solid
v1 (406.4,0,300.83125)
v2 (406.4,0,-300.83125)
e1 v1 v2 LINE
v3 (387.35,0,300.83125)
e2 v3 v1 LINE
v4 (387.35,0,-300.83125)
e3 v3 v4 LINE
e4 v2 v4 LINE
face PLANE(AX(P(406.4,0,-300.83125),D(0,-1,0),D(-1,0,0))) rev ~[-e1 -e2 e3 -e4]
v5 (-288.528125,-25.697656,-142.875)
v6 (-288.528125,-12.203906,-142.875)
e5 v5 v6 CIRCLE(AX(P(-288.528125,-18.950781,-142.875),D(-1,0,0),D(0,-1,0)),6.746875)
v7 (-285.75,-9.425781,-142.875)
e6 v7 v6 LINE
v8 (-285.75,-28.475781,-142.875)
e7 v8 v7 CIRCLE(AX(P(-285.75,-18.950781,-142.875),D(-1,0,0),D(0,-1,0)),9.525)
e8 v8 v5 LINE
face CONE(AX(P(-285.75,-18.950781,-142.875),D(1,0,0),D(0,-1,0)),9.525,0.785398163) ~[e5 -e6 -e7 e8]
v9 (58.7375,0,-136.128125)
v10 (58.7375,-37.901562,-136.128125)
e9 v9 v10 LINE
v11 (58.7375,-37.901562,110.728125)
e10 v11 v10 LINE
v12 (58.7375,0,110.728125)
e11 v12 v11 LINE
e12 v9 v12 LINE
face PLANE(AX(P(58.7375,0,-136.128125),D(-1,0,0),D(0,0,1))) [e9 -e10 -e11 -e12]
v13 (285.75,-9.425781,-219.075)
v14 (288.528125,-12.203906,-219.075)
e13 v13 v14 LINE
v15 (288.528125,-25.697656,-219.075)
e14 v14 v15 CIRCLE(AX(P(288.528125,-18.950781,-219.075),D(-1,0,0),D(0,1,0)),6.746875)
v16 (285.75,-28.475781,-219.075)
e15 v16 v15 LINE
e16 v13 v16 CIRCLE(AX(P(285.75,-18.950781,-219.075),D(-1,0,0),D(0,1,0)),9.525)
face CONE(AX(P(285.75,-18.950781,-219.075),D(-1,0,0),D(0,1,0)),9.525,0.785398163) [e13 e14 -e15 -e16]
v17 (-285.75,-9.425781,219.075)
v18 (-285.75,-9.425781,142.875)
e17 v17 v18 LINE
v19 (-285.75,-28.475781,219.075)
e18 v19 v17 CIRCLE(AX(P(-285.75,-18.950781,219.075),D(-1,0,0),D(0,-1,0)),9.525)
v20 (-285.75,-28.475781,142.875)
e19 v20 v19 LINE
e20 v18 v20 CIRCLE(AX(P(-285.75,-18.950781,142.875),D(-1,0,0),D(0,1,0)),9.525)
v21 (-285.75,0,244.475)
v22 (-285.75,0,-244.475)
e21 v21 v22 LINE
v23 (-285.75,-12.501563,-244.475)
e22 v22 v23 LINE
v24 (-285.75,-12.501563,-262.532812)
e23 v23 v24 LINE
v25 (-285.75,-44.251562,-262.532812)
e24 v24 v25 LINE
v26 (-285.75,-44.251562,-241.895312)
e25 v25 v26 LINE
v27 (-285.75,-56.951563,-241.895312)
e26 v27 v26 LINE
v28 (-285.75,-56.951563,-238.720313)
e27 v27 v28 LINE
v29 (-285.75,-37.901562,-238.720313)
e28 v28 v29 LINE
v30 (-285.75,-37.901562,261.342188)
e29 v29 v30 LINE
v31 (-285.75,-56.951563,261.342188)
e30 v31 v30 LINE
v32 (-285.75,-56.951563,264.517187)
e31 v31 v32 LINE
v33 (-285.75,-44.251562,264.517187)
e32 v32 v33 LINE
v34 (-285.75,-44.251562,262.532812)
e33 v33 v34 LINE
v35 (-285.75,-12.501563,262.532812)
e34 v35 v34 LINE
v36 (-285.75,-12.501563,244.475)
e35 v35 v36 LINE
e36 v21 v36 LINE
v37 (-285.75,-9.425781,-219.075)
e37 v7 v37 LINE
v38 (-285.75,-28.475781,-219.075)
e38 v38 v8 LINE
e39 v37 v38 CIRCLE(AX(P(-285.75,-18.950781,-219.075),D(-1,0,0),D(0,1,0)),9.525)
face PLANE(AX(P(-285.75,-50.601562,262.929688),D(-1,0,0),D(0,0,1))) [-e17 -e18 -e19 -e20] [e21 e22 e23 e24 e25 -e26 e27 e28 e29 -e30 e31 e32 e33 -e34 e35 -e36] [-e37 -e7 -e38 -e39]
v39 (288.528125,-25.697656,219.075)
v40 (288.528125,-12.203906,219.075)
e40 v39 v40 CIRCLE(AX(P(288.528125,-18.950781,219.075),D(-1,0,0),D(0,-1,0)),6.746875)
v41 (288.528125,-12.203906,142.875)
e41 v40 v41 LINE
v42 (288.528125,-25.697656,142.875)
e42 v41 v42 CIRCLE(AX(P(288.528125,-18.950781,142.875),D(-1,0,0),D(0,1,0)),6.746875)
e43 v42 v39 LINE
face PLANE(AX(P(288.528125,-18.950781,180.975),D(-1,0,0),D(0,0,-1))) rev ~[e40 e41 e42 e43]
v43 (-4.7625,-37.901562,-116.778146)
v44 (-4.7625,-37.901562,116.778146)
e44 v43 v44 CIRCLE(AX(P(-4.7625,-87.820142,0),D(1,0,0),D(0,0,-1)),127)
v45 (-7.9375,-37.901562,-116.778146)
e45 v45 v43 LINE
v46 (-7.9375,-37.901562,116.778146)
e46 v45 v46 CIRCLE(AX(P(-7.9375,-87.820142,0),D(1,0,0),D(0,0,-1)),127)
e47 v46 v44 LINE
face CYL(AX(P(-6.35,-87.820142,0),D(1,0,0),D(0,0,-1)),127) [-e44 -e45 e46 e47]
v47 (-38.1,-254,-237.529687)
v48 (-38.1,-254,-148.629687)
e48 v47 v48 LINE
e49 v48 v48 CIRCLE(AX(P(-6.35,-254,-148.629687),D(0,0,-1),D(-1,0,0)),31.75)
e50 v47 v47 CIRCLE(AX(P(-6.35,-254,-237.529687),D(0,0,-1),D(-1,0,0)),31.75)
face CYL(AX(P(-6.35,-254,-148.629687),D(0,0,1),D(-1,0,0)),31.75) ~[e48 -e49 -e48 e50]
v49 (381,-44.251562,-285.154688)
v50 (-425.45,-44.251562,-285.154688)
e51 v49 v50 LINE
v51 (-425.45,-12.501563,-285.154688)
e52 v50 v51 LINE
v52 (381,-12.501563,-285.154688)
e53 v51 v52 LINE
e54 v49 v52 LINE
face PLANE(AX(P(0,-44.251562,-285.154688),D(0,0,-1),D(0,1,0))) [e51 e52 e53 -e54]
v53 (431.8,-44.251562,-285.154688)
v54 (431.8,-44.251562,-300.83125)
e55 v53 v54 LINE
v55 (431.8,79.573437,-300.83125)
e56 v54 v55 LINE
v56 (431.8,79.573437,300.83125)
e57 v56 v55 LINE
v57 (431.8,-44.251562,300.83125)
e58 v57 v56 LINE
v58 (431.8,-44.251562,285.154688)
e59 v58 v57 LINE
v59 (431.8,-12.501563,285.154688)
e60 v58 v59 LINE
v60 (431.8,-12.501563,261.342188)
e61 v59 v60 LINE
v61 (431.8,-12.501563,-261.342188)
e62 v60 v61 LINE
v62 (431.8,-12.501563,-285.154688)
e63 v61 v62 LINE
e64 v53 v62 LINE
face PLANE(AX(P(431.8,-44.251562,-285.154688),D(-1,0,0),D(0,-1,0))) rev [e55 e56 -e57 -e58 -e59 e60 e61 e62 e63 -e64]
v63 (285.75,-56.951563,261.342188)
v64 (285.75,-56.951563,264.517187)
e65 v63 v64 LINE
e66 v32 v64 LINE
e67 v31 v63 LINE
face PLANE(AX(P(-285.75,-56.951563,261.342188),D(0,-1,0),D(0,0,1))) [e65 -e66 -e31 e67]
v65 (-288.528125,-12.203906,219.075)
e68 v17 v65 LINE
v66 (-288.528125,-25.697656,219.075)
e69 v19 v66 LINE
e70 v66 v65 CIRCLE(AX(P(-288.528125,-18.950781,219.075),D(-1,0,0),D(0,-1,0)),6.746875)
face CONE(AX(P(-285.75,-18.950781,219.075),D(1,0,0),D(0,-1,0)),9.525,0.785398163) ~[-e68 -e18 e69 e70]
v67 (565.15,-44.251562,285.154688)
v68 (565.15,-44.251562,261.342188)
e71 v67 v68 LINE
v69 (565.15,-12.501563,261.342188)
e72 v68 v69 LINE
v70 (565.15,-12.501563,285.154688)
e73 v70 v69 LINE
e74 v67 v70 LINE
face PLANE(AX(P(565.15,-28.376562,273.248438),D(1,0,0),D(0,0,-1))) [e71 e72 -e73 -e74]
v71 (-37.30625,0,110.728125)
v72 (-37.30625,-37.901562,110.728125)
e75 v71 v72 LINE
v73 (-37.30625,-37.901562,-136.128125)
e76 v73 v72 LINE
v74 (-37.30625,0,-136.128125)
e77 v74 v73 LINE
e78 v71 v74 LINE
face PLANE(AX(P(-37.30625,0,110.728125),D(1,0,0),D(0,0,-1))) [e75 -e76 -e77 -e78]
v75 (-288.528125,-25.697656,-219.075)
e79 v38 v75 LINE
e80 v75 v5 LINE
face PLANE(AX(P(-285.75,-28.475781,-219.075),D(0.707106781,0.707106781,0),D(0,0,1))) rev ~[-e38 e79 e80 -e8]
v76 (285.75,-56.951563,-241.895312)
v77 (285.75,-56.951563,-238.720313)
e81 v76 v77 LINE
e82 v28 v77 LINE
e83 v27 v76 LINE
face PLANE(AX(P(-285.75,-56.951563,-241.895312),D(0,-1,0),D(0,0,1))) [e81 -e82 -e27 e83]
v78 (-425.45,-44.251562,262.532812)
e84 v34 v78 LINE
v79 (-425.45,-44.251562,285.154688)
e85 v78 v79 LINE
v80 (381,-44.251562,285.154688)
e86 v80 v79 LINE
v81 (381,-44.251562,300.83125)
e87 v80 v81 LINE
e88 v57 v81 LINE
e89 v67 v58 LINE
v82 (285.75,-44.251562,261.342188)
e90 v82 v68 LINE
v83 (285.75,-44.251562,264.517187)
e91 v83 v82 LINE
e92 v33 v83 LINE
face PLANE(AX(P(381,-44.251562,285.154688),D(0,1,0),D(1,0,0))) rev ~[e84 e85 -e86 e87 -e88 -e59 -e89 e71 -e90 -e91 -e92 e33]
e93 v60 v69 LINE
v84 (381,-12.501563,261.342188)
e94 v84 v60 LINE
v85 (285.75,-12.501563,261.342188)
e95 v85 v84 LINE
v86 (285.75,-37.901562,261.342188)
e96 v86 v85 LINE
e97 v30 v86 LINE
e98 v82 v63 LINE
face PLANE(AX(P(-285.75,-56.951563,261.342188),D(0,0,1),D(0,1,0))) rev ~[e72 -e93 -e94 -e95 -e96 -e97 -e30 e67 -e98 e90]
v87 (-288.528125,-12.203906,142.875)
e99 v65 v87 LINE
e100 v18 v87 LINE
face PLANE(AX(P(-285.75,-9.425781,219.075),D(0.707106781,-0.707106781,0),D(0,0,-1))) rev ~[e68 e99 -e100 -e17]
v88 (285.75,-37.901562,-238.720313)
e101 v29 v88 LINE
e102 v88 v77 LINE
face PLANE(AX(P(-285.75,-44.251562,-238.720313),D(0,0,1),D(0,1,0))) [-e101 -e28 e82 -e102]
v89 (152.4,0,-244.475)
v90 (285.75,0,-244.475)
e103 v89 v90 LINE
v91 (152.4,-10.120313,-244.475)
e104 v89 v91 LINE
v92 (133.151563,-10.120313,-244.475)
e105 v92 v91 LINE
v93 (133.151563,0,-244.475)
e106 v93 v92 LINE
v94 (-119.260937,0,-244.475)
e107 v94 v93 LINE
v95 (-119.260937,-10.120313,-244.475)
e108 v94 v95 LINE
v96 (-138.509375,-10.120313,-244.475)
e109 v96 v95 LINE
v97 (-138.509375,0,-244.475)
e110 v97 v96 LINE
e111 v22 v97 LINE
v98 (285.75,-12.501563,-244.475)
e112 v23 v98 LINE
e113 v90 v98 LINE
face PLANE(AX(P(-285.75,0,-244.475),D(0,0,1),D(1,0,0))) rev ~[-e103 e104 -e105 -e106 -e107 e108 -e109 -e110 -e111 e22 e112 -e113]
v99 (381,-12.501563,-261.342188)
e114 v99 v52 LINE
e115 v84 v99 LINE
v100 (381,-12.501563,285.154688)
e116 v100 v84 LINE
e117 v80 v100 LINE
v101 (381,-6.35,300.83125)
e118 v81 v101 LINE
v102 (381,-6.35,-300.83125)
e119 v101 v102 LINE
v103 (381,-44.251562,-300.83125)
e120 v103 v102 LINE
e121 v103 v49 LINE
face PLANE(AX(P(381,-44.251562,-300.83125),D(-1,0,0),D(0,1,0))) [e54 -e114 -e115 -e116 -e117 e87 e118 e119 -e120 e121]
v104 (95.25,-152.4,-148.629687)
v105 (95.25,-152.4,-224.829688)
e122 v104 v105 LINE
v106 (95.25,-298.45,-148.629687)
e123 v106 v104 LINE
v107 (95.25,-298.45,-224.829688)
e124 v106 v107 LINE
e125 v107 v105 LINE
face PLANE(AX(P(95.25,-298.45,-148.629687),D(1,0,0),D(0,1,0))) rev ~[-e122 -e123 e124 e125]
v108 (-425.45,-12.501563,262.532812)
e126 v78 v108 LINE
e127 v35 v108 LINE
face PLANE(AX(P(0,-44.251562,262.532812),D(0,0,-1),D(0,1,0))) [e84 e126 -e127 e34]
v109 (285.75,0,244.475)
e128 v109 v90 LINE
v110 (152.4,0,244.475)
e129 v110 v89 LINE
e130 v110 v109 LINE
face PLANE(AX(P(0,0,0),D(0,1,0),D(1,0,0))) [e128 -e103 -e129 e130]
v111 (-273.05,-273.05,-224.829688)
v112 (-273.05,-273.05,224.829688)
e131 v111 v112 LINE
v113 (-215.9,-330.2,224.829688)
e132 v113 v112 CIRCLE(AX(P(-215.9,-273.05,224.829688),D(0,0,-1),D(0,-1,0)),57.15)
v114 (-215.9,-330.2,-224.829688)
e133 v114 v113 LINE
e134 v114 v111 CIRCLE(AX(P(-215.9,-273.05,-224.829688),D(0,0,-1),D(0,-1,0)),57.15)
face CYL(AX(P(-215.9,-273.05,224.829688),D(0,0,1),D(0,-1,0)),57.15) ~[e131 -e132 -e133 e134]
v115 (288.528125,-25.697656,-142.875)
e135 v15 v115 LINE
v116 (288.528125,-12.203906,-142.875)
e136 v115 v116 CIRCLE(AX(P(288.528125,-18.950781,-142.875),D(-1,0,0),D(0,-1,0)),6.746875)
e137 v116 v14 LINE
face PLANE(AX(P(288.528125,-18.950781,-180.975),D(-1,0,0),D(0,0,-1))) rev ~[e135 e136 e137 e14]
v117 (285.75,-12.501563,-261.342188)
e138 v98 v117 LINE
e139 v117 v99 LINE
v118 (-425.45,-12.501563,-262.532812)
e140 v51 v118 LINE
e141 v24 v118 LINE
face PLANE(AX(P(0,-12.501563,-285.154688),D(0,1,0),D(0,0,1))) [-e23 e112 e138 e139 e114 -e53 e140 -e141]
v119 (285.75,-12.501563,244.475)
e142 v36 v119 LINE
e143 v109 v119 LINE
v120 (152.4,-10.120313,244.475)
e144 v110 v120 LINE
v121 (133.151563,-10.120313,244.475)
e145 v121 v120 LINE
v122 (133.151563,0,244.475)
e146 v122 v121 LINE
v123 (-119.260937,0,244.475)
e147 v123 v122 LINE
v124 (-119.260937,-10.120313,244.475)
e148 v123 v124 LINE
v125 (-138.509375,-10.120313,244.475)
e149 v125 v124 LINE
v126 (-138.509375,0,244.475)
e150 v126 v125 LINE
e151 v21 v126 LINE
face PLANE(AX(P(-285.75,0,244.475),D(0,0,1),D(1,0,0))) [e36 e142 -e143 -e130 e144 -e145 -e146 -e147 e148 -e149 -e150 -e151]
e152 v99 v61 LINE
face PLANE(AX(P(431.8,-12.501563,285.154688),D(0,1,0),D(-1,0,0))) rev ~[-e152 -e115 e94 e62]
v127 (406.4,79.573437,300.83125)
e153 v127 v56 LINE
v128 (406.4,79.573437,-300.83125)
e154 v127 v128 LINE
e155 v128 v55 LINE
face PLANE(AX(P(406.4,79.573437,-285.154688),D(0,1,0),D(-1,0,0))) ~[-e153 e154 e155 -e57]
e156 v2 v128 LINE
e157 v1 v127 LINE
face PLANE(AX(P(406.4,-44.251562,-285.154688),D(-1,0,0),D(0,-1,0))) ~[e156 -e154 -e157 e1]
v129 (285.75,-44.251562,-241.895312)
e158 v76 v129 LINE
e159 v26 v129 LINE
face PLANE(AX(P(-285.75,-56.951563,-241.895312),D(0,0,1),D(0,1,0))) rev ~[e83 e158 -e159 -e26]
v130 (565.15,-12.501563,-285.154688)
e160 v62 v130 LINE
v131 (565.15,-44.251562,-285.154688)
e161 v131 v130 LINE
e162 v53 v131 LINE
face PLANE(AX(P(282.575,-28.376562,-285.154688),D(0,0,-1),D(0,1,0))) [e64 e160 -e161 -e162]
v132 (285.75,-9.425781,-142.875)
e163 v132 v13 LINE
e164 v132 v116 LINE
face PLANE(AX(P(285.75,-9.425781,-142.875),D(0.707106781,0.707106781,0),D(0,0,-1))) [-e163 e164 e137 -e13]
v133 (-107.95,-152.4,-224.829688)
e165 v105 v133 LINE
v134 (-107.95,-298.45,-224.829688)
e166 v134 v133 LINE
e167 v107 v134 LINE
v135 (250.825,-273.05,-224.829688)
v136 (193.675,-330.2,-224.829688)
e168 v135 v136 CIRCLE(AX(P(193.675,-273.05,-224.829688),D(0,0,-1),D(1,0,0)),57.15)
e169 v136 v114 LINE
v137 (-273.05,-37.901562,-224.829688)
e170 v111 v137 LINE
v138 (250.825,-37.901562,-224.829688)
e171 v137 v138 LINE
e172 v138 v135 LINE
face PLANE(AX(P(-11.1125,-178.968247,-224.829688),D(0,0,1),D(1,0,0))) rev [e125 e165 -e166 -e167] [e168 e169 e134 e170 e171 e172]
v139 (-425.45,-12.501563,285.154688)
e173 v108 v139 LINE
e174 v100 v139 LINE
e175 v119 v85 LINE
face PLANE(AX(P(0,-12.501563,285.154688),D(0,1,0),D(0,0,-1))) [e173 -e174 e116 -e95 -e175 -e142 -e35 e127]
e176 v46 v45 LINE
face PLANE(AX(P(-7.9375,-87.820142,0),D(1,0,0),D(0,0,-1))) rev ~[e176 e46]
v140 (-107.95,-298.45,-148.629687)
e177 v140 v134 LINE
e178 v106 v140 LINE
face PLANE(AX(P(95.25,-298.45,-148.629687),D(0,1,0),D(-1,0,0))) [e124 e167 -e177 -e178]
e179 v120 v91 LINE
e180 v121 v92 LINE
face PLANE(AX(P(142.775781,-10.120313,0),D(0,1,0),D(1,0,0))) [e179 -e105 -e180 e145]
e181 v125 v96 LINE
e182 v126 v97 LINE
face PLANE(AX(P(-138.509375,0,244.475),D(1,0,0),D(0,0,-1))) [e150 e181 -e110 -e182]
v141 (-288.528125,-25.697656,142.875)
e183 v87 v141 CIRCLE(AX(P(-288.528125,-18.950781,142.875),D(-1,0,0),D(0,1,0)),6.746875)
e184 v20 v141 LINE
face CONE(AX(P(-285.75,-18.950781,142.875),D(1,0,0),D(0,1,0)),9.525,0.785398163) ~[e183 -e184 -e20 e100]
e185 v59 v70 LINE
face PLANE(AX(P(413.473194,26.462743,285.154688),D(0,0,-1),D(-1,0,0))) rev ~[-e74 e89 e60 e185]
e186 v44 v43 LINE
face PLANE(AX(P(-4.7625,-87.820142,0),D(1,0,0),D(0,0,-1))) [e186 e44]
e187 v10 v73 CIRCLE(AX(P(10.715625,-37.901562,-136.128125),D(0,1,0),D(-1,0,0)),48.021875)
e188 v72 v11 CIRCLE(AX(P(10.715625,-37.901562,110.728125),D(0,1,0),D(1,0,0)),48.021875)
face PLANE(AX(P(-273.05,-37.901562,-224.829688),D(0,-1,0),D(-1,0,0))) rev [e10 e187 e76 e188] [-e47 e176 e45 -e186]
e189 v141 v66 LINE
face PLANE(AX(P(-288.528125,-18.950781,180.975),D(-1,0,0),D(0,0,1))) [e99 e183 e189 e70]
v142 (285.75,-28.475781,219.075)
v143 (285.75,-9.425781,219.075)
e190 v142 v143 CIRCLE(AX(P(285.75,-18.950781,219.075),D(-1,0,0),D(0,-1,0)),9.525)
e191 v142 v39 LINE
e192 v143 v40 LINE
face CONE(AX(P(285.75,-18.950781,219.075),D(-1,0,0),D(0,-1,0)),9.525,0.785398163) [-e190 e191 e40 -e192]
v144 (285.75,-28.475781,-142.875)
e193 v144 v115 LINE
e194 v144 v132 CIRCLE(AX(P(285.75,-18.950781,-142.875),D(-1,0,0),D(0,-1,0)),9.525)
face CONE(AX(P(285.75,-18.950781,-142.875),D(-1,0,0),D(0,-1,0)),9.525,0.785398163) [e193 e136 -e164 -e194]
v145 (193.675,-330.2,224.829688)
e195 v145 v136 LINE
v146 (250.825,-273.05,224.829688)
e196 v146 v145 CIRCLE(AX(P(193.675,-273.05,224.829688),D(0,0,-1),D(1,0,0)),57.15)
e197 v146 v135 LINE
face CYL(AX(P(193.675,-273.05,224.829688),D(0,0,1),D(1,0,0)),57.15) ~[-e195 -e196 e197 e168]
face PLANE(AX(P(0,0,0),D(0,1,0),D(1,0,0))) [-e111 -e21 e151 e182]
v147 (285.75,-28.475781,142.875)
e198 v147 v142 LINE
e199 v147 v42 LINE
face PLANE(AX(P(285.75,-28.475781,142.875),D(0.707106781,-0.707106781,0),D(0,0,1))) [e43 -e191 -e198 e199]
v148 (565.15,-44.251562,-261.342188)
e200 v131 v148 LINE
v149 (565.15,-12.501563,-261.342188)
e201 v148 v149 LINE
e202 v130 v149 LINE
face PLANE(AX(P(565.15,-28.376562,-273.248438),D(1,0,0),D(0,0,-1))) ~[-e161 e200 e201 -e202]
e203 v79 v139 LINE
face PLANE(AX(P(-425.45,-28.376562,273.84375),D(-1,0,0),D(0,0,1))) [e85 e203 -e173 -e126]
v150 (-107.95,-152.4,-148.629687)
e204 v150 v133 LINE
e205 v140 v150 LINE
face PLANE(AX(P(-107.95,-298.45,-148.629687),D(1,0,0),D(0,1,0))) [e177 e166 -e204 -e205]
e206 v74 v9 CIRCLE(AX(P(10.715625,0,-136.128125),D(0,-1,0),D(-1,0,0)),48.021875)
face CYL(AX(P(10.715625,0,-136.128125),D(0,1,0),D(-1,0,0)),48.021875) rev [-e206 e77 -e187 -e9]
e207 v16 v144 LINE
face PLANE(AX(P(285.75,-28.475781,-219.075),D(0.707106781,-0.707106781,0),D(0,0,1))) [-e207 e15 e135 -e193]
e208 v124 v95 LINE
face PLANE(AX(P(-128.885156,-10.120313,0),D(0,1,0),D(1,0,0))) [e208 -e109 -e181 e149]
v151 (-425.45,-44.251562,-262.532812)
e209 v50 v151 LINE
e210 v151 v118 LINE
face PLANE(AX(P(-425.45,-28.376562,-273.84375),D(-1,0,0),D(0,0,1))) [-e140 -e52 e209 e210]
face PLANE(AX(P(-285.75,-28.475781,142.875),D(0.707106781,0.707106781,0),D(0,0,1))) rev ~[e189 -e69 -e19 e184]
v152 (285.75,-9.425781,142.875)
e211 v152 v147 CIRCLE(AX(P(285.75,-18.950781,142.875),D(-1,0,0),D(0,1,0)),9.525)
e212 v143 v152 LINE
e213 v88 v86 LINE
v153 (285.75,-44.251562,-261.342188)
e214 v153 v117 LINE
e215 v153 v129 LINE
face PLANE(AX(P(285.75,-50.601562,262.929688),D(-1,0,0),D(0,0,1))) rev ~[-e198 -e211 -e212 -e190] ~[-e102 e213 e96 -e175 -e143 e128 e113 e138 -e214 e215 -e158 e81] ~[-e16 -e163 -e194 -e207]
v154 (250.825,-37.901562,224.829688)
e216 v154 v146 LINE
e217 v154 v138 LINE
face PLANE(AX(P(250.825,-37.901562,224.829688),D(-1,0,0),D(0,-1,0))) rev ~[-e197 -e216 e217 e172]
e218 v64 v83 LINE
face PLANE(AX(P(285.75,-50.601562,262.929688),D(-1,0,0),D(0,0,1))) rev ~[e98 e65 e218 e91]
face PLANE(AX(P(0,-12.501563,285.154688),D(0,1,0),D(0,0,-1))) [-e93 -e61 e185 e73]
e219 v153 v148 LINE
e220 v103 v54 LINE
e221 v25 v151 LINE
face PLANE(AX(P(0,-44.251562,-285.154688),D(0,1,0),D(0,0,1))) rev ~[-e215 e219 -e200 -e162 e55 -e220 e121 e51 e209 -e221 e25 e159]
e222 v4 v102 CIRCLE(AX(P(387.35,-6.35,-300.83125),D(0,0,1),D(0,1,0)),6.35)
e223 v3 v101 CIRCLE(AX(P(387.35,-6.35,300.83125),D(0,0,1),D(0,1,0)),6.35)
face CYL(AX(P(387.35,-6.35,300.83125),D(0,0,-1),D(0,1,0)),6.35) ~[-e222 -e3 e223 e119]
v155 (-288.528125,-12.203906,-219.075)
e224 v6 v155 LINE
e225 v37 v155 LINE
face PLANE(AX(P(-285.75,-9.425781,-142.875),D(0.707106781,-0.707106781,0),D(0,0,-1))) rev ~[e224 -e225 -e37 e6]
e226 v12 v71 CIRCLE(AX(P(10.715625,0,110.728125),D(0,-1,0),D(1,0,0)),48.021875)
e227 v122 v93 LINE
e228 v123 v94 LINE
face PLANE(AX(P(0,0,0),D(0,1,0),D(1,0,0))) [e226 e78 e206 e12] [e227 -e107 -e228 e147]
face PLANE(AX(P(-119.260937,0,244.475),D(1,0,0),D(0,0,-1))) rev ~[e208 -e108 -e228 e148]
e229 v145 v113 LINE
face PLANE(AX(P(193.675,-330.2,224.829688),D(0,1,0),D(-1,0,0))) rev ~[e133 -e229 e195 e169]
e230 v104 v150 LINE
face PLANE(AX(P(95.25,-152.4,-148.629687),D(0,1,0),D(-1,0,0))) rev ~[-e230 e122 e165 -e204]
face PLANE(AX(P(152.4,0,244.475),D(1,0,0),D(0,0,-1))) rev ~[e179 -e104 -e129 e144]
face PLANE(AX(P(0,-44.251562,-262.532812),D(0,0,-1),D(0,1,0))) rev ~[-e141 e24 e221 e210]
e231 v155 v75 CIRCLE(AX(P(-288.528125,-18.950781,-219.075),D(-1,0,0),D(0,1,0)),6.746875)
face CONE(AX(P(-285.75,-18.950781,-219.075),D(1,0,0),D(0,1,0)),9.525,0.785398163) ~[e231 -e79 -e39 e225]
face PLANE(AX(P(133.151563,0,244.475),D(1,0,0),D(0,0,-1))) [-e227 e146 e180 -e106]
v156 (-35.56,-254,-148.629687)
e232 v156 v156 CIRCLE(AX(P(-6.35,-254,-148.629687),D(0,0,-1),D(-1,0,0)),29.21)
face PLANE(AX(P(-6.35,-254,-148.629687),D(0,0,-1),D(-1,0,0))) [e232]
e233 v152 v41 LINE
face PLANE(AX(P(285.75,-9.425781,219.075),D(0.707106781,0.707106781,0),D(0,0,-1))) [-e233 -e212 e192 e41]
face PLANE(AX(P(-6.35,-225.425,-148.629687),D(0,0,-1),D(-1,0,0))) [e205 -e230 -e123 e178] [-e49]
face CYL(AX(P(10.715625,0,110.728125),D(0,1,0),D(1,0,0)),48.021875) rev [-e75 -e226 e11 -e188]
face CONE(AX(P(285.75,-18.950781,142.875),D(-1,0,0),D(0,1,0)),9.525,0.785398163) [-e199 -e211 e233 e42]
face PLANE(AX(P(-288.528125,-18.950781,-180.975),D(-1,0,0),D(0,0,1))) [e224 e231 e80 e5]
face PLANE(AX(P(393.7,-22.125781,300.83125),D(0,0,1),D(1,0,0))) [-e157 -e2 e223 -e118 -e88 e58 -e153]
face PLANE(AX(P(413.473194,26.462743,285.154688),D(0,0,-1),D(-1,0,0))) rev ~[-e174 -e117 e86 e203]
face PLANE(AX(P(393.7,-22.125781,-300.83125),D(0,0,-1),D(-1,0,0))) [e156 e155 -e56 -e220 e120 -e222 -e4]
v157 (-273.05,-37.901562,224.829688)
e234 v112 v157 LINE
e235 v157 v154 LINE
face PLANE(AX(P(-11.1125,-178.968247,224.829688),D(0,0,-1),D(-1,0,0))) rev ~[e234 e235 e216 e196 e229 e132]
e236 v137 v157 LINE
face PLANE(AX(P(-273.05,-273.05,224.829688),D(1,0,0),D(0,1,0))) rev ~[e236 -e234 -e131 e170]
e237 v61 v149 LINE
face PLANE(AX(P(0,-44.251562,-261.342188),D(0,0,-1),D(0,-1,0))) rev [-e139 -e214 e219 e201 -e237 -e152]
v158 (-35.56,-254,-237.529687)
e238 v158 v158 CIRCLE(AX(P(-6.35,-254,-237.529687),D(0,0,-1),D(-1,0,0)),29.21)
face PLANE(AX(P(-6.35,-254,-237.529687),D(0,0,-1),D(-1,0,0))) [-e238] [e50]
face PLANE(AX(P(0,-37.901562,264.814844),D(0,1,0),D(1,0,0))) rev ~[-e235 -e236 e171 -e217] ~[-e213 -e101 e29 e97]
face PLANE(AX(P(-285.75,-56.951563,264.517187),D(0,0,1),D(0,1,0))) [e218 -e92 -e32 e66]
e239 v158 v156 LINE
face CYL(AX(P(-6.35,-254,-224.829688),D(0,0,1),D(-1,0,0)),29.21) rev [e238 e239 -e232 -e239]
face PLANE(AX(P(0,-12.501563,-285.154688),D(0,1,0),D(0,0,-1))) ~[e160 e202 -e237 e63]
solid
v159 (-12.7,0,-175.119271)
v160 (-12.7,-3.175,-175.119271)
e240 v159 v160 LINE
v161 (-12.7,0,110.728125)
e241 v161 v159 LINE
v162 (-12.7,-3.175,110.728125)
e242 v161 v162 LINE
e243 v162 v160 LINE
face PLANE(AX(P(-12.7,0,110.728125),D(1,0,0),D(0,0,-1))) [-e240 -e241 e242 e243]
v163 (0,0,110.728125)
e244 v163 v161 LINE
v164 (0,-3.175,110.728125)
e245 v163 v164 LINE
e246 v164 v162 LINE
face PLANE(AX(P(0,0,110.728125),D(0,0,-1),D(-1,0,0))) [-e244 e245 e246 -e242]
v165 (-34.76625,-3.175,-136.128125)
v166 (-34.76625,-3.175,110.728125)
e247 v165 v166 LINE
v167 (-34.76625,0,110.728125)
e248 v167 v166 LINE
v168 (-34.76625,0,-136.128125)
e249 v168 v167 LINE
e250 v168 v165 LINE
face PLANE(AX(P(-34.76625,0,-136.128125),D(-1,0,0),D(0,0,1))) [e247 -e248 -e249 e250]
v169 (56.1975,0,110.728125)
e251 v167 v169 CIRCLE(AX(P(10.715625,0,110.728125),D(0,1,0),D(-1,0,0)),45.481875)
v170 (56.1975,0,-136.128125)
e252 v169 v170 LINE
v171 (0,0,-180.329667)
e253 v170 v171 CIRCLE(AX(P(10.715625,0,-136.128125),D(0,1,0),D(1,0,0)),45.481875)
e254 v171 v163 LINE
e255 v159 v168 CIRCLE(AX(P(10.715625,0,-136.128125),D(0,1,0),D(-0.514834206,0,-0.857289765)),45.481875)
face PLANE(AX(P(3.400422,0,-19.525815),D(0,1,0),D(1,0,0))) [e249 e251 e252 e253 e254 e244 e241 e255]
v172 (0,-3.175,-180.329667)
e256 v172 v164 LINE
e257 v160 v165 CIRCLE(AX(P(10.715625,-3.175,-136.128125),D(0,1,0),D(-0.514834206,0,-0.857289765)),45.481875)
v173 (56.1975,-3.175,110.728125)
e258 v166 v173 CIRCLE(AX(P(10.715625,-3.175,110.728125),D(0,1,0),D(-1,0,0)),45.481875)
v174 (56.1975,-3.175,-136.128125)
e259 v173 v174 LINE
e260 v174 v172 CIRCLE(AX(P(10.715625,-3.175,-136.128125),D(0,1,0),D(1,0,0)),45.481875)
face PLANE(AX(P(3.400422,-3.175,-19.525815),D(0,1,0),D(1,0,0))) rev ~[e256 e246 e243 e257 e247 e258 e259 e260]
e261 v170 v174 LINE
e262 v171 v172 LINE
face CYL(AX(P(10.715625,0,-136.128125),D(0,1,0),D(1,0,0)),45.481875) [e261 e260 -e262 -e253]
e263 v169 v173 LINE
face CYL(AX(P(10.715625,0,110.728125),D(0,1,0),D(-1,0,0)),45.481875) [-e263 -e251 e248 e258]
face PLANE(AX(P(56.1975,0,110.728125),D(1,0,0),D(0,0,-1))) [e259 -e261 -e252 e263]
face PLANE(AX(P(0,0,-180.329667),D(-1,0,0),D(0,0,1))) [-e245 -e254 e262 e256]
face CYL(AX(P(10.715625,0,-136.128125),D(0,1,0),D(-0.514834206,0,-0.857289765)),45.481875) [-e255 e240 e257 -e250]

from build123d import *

# Parameters (mm, degrees)
SKETCH1_W                = 571.5
SKETCH1_H                = 488.95
EXTRUDE1_DEPTH           = 37.9015625
SKETCH2_W                = 571.5
SKETCH2_H                = 40.6796875
SKETCH2_H_2              = 18.0578125
EXTRUDE5_DEPTH           = 25.4
SKETCH6_W                = 23.8125
SKETCH6_H                = 31.75
EXTRUDE6_DEPTH           = 571.5
SKETCH7_W                = 3.175
SKETCH7_H                = 12.7
EXTRUDE7_DEPTH           = 571.5
EXTRUDE8_DEPTH           = 2.778125
EXTRUDE8_DRAFT           = 45
EXTRUDE8_PROFILE_2_DEPTH = 2.778125
EXTRUDE8_PROFILE_2_DRAFT = 45
MIRROR2_COPY_1_DEPTH     = 2.778125
MIRROR2_COPY_1_DRAFT     = 45
MIRROR2_COPY_2_DEPTH     = 2.778125
MIRROR2_COPY_2_DRAFT     = 45
MIRROR2_COPY_3_DEPTH     = 2.778125
MIRROR2_COPY_3_DRAFT     = 45
EXTRUDE9_DEPTH           = 490.247968132
SKETCH10_W               = 19.2484375
SKETCH10_H               = 488.95
EXTRUDE10_DEPTH          = 10.1203125
SKETCH3_W                = 23.8125
SKETCH3_H                = 31.75
EXTRUDE3_DEPTH           = 565.15
EXTRUDE4_REACH           = 806.917
SKETCH11_W               = 25.4
SKETCH11_H               = 123.825
EXTRUDE11_DEPTH          = 15.6765625
SKETCH12_W               = 25.4
SKETCH12_H               = 44.2515625
EXTRUDE12_DEPTH          = 15.6765625
SKETCH13_W               = 25.4
SKETCH13_H               = 44.2515625
EXTRUDE13_DEPTH          = 15.6765625
FILLET1_R                = 6.35
EXTRUDE14_DEPTH          = 224.8296875
SKETCH15_R               = 127
EXTRUDE15_DEPTH          = 1.5875
EXTRUDE16_DEPTH          = 3.175
SKETCH17_R               = 31.75
SKETCH17_R_2             = 29.21
EXTRUDE17_DEPTH          = 12.7
EXTRUDE18_START          = -76.2
SKETCH18_W               = 203.2
SKETCH18_H               = 146.05
SKETCH18_R               = 31.75
SKETCH18_R_2             = 29.21
EXTRUDE18_DEPTH          = 76.2
EXTRUDE20_START          = -285.75
SKETCH20_W               = 22.621875
SKETCH20_H               = 31.75
EXTRUDE20_DEPTH          = 425.45


with BuildPart() as part:
    # Sketch1 → Extrude1 (new body)
    with BuildSketch(Plane(origin=(0, 0, 0), x_dir=(1, 0, 0), z_dir=(0, 1, 0))):
        Rectangle(SKETCH1_W, SKETCH1_H)
    extrude(amount=-EXTRUDE1_DEPTH)

    # Sketch2 → Extrude5 (add)
    with BuildSketch(Plane(origin=(0, -37.9015625, 0), x_dir=(1, 0, 0), z_dir=(0, 1, 0))):
        with Locations((0, -264.81484375)):
            Rectangle(SKETCH2_W, SKETCH2_H)
        with Locations((0, 253.50390625)):
            Rectangle(SKETCH2_W, SKETCH2_H_2)
    extrude(amount=EXTRUDE5_DEPTH)

    # Sketch6 → Extrude6 (add)
    with BuildSketch(Plane.ZY.offset(285.75)):
        with Locations((273.2484375, -28.3765625)):
            Rectangle(SKETCH6_W, SKETCH6_H)
        with Locations((-250.6265625, -28.3765625)):
            Rectangle(SKETCH6_W, SKETCH6_H)
    extrude(amount=-EXTRUDE6_DEPTH)

    # Sketch7 → Extrude7 (add)
    with BuildSketch(Plane.ZY.offset(285.75)):
        with Locations((262.9296875, -50.6015625)):
            Rectangle(SKETCH7_W, SKETCH7_H)
        with Locations((-240.3078125, -50.6015625)):
            Rectangle(SKETCH7_W, SKETCH7_H)
    extrude(amount=-EXTRUDE7_DEPTH)


with BuildPart() as extrude8_tool:
    # Sketch8 → Extrude8 (with draft: the straight prism first)
    with BuildSketch(Plane.ZY.offset(285.75)):
        with BuildLine():
            Line((-219.075, -28.47578125), (-142.875, -28.47578125))
            ThreePointArc((-142.875, -28.47578125), (-133.35, -18.95078125), (-142.875, -9.42578125))
            Line((-142.875, -9.42578125), (-219.075, -9.42578125))
            ThreePointArc((-219.075, -9.42578125), (-228.6, -18.95078125), (-219.075, -28.47578125))
        make_face()
    extrude(amount=EXTRUDE8_DEPTH)
    # Extrude8: the draft: its side faces are tilted about the plane it starts from
    extrude8_sides = [extrude8_tool.faces().sort_by_distance(p)[0] for p in [
        (-287.1390625, -18.95078125, -228.6),
        (-287.1390625, -28.47578125, -180.975),
        (-287.1390625, -18.95078125, -133.35),
        (-287.1390625, -9.42578125, -180.975),
    ]]
    draft(extrude8_sides, Plane.ZY.offset(285.75), EXTRUDE8_DRAFT)


with BuildPart() as part_1:
    add(part.part)

    # Extrude8: add extrude8_tool
    add(extrude8_tool.part)


with BuildPart() as extrude8_profile_2_tool:
    # Sketch8 → Extrude8 profile 2 (with draft: the straight prism first)
    with BuildSketch(Plane.ZY.offset(285.75)):
        with BuildLine():
            Line((142.875, -28.47578125), (219.075, -28.47578125))
            ThreePointArc((219.075, -28.47578125), (228.6, -18.95078125), (219.075, -9.42578125))
            Line((219.075, -9.42578125), (142.875, -9.42578125))
            ThreePointArc((142.875, -9.42578125), (133.35, -18.95078125), (142.875, -28.47578125))
        make_face()
    extrude(amount=EXTRUDE8_PROFILE_2_DEPTH)
    # Extrude8 profile 2: the draft: its side faces are tilted about the plane it starts from
    extrude8_profile_2_sides = [extrude8_profile_2_tool.faces().sort_by_distance(p)[0] for p in [
        (-287.1390625, -18.95078125, 133.35),
        (-287.1390625, -28.47578125, 180.975),
        (-287.1390625, -18.95078125, 228.6),
        (-287.1390625, -9.42578125, 180.975),
    ]]
    draft(extrude8_profile_2_sides, Plane.ZY.offset(285.75), EXTRUDE8_PROFILE_2_DRAFT)


with BuildPart() as part_2:
    add(part_1.part)

    # Extrude8 profile 2: add extrude8_profile_2_tool
    add(extrude8_profile_2_tool.part)


with BuildPart() as mirror2_copy_1_tool:
    # Mirror2 copy 1 sketch → Mirror2 copy 1 (with draft: the straight prism first)
    with BuildSketch(Plane(origin=(285.75, 0, 0), x_dir=(0, 0, 1), z_dir=(1, 0, 0))):
        with BuildLine():
            Line((-219.075, 28.47578125), (-142.875, 28.47578125))
            ThreePointArc((-142.875, 28.47578125), (-133.35, 18.95078125), (-142.875, 9.42578125))
            Line((-142.875, 9.42578125), (-219.075, 9.42578125))
            ThreePointArc((-219.075, 9.42578125), (-228.6, 18.95078125), (-219.075, 28.47578125))
        make_face()
    extrude(amount=MIRROR2_COPY_1_DEPTH)
    # Mirror2 copy 1: the draft: its side faces are tilted about the plane it starts from
    mirror2_copy_1_sides = [mirror2_copy_1_tool.faces().sort_by_distance(p)[0] for p in [
        (287.1390625, -18.95078125, -228.6),
        (287.1390625, -28.47578125, -180.975),
        (287.1390625, -18.95078125, -133.35),
        (287.1390625, -9.42578125, -180.975),
    ]]
    draft(mirror2_copy_1_sides, Plane(origin=(285.75, 0, 0), x_dir=(0, 0, 1), z_dir=(1, 0, 0)), MIRROR2_COPY_1_DRAFT)


with BuildPart() as part_3:
    add(part_2.part)

    # Mirror2 copy 1: add mirror2_copy_1_tool
    add(mirror2_copy_1_tool.part)


with BuildPart() as mirror2_copy_2_tool:
    # Mirror2 copy 2 sketch → Mirror2 copy 2 (with draft: the straight prism first)
    with BuildSketch(Plane(origin=(285.75, 0, 0), x_dir=(0, 0, 1), z_dir=(1, 0, 0))):
        with BuildLine():
            Line((142.875, 28.47578125), (219.075, 28.47578125))
            ThreePointArc((219.075, 28.47578125), (228.6, 18.95078125), (219.075, 9.42578125))
            Line((219.075, 9.42578125), (142.875, 9.42578125))
            ThreePointArc((142.875, 9.42578125), (133.35, 18.95078125), (142.875, 28.47578125))
        make_face()
    extrude(amount=MIRROR2_COPY_2_DEPTH)
    # Mirror2 copy 2: the draft: its side faces are tilted about the plane it starts from
    mirror2_copy_2_sides = [mirror2_copy_2_tool.faces().sort_by_distance(p)[0] for p in [
        (287.1390625, -18.95078125, 133.35),
        (287.1390625, -28.47578125, 180.975),
        (287.1390625, -18.95078125, 228.6),
        (287.1390625, -9.42578125, 180.975),
    ]]
    draft(mirror2_copy_2_sides, Plane(origin=(285.75, 0, 0), x_dir=(0, 0, 1), z_dir=(1, 0, 0)), MIRROR2_COPY_2_DRAFT)


with BuildPart() as part_4:
    add(part_3.part)

    # Mirror2 copy 2: add mirror2_copy_2_tool
    add(mirror2_copy_2_tool.part)


with BuildPart() as mirror2_copy_3_tool:
    # Mirror2 copy 3 sketch → Mirror2 copy 3 (with draft: the straight prism first)
    with BuildSketch(Plane(origin=(285.75, 0, 0), x_dir=(0, 0, 1), z_dir=(1, 0, 0))):
        with BuildLine():
            Line((142.875, 28.47578125), (219.075, 28.47578125))
            ThreePointArc((219.075, 28.47578125), (228.6, 18.95078125), (219.075, 9.42578125))
            Line((219.075, 9.42578125), (142.875, 9.42578125))
            ThreePointArc((142.875, 9.42578125), (133.35, 18.95078125), (142.875, 28.47578125))
        make_face()
    extrude(amount=MIRROR2_COPY_3_DEPTH)
    # Mirror2 copy 3: the draft: its side faces are tilted about the plane it starts from
    mirror2_copy_3_sides = [mirror2_copy_3_tool.faces().sort_by_distance(p)[0] for p in [
        (287.1390625, -18.95078125, 133.35),
        (287.1390625, -28.47578125, 180.975),
        (287.1390625, -18.95078125, 228.6),
        (287.1390625, -9.42578125, 180.975),
    ]]
    draft(mirror2_copy_3_sides, Plane(origin=(285.75, 0, 0), x_dir=(0, 0, 1), z_dir=(1, 0, 0)), MIRROR2_COPY_3_DRAFT)


with BuildPart() as part_5:
    add(part_4.part)

    # Mirror2 copy 3: add mirror2_copy_3_tool
    add(mirror2_copy_3_tool.part)

    # Sketch9 → Extrude9 (cut, through all)
    with BuildSketch(Plane(origin=(56.753125, 0, -56.753125), x_dir=(0, 0, -1), z_dir=(0, 1, 0))):
        with BuildLine():
            Line((-167.48125, 94.059375), (79.375, 94.059375))
            ThreePointArc((79.375, 94.059375), (127.396875, 46.0375), (79.375, -1.984375))
            Line((79.375, -1.984375), (-167.48125, -1.984375))
            ThreePointArc((-167.48125, -1.984375), (-215.503125, 46.0375), (-167.48125, 94.059375))
        make_face()
    extrude(amount=-EXTRUDE9_DEPTH, mode=Mode.SUBTRACT)

    # Sketch10 → Extrude10 (cut)
    with BuildSketch(Plane(origin=(0, 0, 0), x_dir=(1, 0, 0), z_dir=(0, 1, 0))):
        with Locations((-128.88515625, 0)):
            Rectangle(SKETCH10_W, SKETCH10_H)
        with Locations((142.77578125, 0)):
            Rectangle(SKETCH10_W, SKETCH10_H)
    extrude(amount=-EXTRUDE10_DEPTH, mode=Mode.SUBTRACT)

    # Sketch3 → Extrude3 (add)
    with BuildSketch(Plane(origin=(0, 0, 0), x_dir=(0, 0, -1), z_dir=(1, 0, 0))):
        with Locations((-273.2484375, -28.3765625)):
            Rectangle(SKETCH3_W, SKETCH3_H)
    extrude3 = extrude(amount=EXTRUDE3_DEPTH)

    # Mirror1: Extrude3 across plane
    add(extrude3.mirror(Plane.XY))

    # Extrude4: up to this face of the body (flat: up to its plane)
    extrude4_end = Plane(part_5.part.faces().sort_by_distance((282.575, -28.3765625, -285.1546875))[0])
    # Sketch4 → Extrude4 (add, up to the picked face)
    with BuildSketch(Plane.XY.offset(285.1546875), mode=Mode.PRIVATE) as extrude4_sk1:
        Polygon((381, 0), (406.4, 0), (406.4, 79.5734375), (431.8, 79.5734375), (431.8, -12.5015625), (381, -12.5015625), align=None)
    extrude4_tool1 = split(extrude(extrude4_sk1.sketch, amount=-EXTRUDE4_REACH, mode=Mode.PRIVATE), bisect_by=extrude4_end, keep=Keep.BOTH, mode=Mode.PRIVATE)
    add(extrude4_tool1.solids().sort_by(Axis((416.063567, 28.77965, 285.154688), (0, 0, -1)))[0])

    # Sketch11 → Extrude11 (add)
    with BuildSketch(Plane.XY.offset(285.1546875)):
        with Locations((419.1, 17.6609375)):
            Rectangle(SKETCH11_W, SKETCH11_H)
    extrude11 = extrude(amount=EXTRUDE11_DEPTH)

    # Mirror3: Extrude11 across plane
    add(extrude11.mirror(Plane.XY))

    # Sketch12 → Extrude12 (add)
    with BuildSketch(Plane.XY.offset(285.1546875)):
        with Locations((393.7, -22.12578125)):
            Rectangle(SKETCH12_W, SKETCH12_H)
    extrude(amount=EXTRUDE12_DEPTH)

    # Sketch13 → Extrude13 (add)
    with BuildSketch(Plane(origin=(0, 0, -300.83125), x_dir=(-1, 0, 0), z_dir=(0, 0, -1))):
        with Locations((-393.7, -22.12578125)):
            Rectangle(SKETCH13_W, SKETCH13_H)
    extrude(amount=-EXTRUDE13_DEPTH)

    # Fillet1
    fillet1_edges = [part_5.edges().sort_by_distance(p)[0] for p in [
        (381, 0, 0),
    ]]
    fillet(fillet1_edges, radius=FILLET1_R)

    # Sketch14 → Extrude14 (add)
    with BuildSketch(Plane.XY.offset(224.8296875)):
        with BuildLine():
            Line((-273.05, -37.9015625), (250.825, -37.9015625))
            Line((250.825, -37.9015625), (250.825, -273.05))
            ThreePointArc((250.825, -273.05), (234.086152545, -313.461152545), (193.675, -330.2))
            Line((193.675, -330.2), (-215.9, -330.2))
            ThreePointArc((-215.9, -330.2), (-256.311152545, -313.461152545), (-273.05, -273.05))
            Line((-273.05, -273.05), (-273.05, -37.9015625))
        make_face()
    extrude14 = extrude(amount=-EXTRUDE14_DEPTH)

    # Mirror6: Extrude14 across plane
    add(extrude14.mirror(Plane.XY))

    # Sketch15 → Extrude15 (add, symmetric)
    with BuildSketch(Plane(origin=(-6.35, 0, 0), x_dir=(0, 0, -1), z_dir=(1, 0, 0))):
        with Locations((0, -87.820142217)):
            Circle(SKETCH15_R)
    extrude(amount=EXTRUDE15_DEPTH, both=True)

    # Sketch17 → Extrude17 (add)
    with BuildSketch(Plane(origin=(0, 0, -224.8296875), x_dir=(-1, 0, 0), z_dir=(0, 0, -1))):
        with Locations((6.35, -254)):
            Circle(SKETCH17_R)
        with Locations((6.35, -254)):
            Circle(SKETCH17_R_2, mode=Mode.SUBTRACT)
    extrude(amount=EXTRUDE17_DEPTH)

    # Sketch18 → Extrude18 (cut)
    # profile 1 of 2: a face of its own
    with BuildSketch(Plane(origin=(0, 0, -224.8296875), x_dir=(-1, 0, 0), z_dir=(0, 0, -1)).offset(EXTRUDE18_START)):
        with Locations((6.35, -225.425)):
            Rectangle(SKETCH18_W, SKETCH18_H)
        with Locations((6.35, -254)):
            Circle(SKETCH18_R, mode=Mode.SUBTRACT)
    # profile 2 of 2: a face of its own
    with BuildSketch(Plane(origin=(0, 0, -224.8296875), x_dir=(-1, 0, 0), z_dir=(0, 0, -1)).offset(EXTRUDE18_START)):
        with Locations((6.35, -254)):
            Circle(SKETCH18_R_2)
    extrude(amount=EXTRUDE18_DEPTH, mode=Mode.SUBTRACT)

    # Sketch20 → Extrude20 (add)
    with BuildSketch(Plane.ZY.offset(285.75).offset(EXTRUDE20_START)):
        with Locations((-273.84375, -28.3765625)):
            Rectangle(SKETCH20_W, SKETCH20_H)
        with Locations((273.84375, -28.3765625)):
            Rectangle(SKETCH20_W, SKETCH20_H)
    extrude(amount=EXTRUDE20_DEPTH)


with BuildPart() as body_2:
    # Sketch16 → Extrude16 (new body)
    with BuildSketch(Plane(origin=(0, 0, 0), x_dir=(1, 0, 0), z_dir=(0, 1, 0))):
        with BuildLine():
            Line((-34.76625, 136.128125), (-34.76625, -110.728125))
            ThreePointArc((-34.76625, -110.728125), (10.715625, -156.21), (56.1975, -110.728125))
            Line((56.1975, -110.728125), (56.1975, 136.128125))
            ThreePointArc((56.1975, 136.128125), (38.833539545, 171.877024775), (0, 180.329667217))
            Line((0, 180.329667217), (0, -110.728125))
            Line((0, -110.728125), (-12.7, -110.728125))
            Line((-12.7, -110.728125), (-12.7, 175.11927091))
            ThreePointArc((-12.7, 175.11927091), (-28.867120501, 158.529178817), (-34.76625, 136.128125))
        make_face()
    extrude(amount=-EXTRUDE16_DEPTH)


solid = Compound([part_5.part, body_2.part])
